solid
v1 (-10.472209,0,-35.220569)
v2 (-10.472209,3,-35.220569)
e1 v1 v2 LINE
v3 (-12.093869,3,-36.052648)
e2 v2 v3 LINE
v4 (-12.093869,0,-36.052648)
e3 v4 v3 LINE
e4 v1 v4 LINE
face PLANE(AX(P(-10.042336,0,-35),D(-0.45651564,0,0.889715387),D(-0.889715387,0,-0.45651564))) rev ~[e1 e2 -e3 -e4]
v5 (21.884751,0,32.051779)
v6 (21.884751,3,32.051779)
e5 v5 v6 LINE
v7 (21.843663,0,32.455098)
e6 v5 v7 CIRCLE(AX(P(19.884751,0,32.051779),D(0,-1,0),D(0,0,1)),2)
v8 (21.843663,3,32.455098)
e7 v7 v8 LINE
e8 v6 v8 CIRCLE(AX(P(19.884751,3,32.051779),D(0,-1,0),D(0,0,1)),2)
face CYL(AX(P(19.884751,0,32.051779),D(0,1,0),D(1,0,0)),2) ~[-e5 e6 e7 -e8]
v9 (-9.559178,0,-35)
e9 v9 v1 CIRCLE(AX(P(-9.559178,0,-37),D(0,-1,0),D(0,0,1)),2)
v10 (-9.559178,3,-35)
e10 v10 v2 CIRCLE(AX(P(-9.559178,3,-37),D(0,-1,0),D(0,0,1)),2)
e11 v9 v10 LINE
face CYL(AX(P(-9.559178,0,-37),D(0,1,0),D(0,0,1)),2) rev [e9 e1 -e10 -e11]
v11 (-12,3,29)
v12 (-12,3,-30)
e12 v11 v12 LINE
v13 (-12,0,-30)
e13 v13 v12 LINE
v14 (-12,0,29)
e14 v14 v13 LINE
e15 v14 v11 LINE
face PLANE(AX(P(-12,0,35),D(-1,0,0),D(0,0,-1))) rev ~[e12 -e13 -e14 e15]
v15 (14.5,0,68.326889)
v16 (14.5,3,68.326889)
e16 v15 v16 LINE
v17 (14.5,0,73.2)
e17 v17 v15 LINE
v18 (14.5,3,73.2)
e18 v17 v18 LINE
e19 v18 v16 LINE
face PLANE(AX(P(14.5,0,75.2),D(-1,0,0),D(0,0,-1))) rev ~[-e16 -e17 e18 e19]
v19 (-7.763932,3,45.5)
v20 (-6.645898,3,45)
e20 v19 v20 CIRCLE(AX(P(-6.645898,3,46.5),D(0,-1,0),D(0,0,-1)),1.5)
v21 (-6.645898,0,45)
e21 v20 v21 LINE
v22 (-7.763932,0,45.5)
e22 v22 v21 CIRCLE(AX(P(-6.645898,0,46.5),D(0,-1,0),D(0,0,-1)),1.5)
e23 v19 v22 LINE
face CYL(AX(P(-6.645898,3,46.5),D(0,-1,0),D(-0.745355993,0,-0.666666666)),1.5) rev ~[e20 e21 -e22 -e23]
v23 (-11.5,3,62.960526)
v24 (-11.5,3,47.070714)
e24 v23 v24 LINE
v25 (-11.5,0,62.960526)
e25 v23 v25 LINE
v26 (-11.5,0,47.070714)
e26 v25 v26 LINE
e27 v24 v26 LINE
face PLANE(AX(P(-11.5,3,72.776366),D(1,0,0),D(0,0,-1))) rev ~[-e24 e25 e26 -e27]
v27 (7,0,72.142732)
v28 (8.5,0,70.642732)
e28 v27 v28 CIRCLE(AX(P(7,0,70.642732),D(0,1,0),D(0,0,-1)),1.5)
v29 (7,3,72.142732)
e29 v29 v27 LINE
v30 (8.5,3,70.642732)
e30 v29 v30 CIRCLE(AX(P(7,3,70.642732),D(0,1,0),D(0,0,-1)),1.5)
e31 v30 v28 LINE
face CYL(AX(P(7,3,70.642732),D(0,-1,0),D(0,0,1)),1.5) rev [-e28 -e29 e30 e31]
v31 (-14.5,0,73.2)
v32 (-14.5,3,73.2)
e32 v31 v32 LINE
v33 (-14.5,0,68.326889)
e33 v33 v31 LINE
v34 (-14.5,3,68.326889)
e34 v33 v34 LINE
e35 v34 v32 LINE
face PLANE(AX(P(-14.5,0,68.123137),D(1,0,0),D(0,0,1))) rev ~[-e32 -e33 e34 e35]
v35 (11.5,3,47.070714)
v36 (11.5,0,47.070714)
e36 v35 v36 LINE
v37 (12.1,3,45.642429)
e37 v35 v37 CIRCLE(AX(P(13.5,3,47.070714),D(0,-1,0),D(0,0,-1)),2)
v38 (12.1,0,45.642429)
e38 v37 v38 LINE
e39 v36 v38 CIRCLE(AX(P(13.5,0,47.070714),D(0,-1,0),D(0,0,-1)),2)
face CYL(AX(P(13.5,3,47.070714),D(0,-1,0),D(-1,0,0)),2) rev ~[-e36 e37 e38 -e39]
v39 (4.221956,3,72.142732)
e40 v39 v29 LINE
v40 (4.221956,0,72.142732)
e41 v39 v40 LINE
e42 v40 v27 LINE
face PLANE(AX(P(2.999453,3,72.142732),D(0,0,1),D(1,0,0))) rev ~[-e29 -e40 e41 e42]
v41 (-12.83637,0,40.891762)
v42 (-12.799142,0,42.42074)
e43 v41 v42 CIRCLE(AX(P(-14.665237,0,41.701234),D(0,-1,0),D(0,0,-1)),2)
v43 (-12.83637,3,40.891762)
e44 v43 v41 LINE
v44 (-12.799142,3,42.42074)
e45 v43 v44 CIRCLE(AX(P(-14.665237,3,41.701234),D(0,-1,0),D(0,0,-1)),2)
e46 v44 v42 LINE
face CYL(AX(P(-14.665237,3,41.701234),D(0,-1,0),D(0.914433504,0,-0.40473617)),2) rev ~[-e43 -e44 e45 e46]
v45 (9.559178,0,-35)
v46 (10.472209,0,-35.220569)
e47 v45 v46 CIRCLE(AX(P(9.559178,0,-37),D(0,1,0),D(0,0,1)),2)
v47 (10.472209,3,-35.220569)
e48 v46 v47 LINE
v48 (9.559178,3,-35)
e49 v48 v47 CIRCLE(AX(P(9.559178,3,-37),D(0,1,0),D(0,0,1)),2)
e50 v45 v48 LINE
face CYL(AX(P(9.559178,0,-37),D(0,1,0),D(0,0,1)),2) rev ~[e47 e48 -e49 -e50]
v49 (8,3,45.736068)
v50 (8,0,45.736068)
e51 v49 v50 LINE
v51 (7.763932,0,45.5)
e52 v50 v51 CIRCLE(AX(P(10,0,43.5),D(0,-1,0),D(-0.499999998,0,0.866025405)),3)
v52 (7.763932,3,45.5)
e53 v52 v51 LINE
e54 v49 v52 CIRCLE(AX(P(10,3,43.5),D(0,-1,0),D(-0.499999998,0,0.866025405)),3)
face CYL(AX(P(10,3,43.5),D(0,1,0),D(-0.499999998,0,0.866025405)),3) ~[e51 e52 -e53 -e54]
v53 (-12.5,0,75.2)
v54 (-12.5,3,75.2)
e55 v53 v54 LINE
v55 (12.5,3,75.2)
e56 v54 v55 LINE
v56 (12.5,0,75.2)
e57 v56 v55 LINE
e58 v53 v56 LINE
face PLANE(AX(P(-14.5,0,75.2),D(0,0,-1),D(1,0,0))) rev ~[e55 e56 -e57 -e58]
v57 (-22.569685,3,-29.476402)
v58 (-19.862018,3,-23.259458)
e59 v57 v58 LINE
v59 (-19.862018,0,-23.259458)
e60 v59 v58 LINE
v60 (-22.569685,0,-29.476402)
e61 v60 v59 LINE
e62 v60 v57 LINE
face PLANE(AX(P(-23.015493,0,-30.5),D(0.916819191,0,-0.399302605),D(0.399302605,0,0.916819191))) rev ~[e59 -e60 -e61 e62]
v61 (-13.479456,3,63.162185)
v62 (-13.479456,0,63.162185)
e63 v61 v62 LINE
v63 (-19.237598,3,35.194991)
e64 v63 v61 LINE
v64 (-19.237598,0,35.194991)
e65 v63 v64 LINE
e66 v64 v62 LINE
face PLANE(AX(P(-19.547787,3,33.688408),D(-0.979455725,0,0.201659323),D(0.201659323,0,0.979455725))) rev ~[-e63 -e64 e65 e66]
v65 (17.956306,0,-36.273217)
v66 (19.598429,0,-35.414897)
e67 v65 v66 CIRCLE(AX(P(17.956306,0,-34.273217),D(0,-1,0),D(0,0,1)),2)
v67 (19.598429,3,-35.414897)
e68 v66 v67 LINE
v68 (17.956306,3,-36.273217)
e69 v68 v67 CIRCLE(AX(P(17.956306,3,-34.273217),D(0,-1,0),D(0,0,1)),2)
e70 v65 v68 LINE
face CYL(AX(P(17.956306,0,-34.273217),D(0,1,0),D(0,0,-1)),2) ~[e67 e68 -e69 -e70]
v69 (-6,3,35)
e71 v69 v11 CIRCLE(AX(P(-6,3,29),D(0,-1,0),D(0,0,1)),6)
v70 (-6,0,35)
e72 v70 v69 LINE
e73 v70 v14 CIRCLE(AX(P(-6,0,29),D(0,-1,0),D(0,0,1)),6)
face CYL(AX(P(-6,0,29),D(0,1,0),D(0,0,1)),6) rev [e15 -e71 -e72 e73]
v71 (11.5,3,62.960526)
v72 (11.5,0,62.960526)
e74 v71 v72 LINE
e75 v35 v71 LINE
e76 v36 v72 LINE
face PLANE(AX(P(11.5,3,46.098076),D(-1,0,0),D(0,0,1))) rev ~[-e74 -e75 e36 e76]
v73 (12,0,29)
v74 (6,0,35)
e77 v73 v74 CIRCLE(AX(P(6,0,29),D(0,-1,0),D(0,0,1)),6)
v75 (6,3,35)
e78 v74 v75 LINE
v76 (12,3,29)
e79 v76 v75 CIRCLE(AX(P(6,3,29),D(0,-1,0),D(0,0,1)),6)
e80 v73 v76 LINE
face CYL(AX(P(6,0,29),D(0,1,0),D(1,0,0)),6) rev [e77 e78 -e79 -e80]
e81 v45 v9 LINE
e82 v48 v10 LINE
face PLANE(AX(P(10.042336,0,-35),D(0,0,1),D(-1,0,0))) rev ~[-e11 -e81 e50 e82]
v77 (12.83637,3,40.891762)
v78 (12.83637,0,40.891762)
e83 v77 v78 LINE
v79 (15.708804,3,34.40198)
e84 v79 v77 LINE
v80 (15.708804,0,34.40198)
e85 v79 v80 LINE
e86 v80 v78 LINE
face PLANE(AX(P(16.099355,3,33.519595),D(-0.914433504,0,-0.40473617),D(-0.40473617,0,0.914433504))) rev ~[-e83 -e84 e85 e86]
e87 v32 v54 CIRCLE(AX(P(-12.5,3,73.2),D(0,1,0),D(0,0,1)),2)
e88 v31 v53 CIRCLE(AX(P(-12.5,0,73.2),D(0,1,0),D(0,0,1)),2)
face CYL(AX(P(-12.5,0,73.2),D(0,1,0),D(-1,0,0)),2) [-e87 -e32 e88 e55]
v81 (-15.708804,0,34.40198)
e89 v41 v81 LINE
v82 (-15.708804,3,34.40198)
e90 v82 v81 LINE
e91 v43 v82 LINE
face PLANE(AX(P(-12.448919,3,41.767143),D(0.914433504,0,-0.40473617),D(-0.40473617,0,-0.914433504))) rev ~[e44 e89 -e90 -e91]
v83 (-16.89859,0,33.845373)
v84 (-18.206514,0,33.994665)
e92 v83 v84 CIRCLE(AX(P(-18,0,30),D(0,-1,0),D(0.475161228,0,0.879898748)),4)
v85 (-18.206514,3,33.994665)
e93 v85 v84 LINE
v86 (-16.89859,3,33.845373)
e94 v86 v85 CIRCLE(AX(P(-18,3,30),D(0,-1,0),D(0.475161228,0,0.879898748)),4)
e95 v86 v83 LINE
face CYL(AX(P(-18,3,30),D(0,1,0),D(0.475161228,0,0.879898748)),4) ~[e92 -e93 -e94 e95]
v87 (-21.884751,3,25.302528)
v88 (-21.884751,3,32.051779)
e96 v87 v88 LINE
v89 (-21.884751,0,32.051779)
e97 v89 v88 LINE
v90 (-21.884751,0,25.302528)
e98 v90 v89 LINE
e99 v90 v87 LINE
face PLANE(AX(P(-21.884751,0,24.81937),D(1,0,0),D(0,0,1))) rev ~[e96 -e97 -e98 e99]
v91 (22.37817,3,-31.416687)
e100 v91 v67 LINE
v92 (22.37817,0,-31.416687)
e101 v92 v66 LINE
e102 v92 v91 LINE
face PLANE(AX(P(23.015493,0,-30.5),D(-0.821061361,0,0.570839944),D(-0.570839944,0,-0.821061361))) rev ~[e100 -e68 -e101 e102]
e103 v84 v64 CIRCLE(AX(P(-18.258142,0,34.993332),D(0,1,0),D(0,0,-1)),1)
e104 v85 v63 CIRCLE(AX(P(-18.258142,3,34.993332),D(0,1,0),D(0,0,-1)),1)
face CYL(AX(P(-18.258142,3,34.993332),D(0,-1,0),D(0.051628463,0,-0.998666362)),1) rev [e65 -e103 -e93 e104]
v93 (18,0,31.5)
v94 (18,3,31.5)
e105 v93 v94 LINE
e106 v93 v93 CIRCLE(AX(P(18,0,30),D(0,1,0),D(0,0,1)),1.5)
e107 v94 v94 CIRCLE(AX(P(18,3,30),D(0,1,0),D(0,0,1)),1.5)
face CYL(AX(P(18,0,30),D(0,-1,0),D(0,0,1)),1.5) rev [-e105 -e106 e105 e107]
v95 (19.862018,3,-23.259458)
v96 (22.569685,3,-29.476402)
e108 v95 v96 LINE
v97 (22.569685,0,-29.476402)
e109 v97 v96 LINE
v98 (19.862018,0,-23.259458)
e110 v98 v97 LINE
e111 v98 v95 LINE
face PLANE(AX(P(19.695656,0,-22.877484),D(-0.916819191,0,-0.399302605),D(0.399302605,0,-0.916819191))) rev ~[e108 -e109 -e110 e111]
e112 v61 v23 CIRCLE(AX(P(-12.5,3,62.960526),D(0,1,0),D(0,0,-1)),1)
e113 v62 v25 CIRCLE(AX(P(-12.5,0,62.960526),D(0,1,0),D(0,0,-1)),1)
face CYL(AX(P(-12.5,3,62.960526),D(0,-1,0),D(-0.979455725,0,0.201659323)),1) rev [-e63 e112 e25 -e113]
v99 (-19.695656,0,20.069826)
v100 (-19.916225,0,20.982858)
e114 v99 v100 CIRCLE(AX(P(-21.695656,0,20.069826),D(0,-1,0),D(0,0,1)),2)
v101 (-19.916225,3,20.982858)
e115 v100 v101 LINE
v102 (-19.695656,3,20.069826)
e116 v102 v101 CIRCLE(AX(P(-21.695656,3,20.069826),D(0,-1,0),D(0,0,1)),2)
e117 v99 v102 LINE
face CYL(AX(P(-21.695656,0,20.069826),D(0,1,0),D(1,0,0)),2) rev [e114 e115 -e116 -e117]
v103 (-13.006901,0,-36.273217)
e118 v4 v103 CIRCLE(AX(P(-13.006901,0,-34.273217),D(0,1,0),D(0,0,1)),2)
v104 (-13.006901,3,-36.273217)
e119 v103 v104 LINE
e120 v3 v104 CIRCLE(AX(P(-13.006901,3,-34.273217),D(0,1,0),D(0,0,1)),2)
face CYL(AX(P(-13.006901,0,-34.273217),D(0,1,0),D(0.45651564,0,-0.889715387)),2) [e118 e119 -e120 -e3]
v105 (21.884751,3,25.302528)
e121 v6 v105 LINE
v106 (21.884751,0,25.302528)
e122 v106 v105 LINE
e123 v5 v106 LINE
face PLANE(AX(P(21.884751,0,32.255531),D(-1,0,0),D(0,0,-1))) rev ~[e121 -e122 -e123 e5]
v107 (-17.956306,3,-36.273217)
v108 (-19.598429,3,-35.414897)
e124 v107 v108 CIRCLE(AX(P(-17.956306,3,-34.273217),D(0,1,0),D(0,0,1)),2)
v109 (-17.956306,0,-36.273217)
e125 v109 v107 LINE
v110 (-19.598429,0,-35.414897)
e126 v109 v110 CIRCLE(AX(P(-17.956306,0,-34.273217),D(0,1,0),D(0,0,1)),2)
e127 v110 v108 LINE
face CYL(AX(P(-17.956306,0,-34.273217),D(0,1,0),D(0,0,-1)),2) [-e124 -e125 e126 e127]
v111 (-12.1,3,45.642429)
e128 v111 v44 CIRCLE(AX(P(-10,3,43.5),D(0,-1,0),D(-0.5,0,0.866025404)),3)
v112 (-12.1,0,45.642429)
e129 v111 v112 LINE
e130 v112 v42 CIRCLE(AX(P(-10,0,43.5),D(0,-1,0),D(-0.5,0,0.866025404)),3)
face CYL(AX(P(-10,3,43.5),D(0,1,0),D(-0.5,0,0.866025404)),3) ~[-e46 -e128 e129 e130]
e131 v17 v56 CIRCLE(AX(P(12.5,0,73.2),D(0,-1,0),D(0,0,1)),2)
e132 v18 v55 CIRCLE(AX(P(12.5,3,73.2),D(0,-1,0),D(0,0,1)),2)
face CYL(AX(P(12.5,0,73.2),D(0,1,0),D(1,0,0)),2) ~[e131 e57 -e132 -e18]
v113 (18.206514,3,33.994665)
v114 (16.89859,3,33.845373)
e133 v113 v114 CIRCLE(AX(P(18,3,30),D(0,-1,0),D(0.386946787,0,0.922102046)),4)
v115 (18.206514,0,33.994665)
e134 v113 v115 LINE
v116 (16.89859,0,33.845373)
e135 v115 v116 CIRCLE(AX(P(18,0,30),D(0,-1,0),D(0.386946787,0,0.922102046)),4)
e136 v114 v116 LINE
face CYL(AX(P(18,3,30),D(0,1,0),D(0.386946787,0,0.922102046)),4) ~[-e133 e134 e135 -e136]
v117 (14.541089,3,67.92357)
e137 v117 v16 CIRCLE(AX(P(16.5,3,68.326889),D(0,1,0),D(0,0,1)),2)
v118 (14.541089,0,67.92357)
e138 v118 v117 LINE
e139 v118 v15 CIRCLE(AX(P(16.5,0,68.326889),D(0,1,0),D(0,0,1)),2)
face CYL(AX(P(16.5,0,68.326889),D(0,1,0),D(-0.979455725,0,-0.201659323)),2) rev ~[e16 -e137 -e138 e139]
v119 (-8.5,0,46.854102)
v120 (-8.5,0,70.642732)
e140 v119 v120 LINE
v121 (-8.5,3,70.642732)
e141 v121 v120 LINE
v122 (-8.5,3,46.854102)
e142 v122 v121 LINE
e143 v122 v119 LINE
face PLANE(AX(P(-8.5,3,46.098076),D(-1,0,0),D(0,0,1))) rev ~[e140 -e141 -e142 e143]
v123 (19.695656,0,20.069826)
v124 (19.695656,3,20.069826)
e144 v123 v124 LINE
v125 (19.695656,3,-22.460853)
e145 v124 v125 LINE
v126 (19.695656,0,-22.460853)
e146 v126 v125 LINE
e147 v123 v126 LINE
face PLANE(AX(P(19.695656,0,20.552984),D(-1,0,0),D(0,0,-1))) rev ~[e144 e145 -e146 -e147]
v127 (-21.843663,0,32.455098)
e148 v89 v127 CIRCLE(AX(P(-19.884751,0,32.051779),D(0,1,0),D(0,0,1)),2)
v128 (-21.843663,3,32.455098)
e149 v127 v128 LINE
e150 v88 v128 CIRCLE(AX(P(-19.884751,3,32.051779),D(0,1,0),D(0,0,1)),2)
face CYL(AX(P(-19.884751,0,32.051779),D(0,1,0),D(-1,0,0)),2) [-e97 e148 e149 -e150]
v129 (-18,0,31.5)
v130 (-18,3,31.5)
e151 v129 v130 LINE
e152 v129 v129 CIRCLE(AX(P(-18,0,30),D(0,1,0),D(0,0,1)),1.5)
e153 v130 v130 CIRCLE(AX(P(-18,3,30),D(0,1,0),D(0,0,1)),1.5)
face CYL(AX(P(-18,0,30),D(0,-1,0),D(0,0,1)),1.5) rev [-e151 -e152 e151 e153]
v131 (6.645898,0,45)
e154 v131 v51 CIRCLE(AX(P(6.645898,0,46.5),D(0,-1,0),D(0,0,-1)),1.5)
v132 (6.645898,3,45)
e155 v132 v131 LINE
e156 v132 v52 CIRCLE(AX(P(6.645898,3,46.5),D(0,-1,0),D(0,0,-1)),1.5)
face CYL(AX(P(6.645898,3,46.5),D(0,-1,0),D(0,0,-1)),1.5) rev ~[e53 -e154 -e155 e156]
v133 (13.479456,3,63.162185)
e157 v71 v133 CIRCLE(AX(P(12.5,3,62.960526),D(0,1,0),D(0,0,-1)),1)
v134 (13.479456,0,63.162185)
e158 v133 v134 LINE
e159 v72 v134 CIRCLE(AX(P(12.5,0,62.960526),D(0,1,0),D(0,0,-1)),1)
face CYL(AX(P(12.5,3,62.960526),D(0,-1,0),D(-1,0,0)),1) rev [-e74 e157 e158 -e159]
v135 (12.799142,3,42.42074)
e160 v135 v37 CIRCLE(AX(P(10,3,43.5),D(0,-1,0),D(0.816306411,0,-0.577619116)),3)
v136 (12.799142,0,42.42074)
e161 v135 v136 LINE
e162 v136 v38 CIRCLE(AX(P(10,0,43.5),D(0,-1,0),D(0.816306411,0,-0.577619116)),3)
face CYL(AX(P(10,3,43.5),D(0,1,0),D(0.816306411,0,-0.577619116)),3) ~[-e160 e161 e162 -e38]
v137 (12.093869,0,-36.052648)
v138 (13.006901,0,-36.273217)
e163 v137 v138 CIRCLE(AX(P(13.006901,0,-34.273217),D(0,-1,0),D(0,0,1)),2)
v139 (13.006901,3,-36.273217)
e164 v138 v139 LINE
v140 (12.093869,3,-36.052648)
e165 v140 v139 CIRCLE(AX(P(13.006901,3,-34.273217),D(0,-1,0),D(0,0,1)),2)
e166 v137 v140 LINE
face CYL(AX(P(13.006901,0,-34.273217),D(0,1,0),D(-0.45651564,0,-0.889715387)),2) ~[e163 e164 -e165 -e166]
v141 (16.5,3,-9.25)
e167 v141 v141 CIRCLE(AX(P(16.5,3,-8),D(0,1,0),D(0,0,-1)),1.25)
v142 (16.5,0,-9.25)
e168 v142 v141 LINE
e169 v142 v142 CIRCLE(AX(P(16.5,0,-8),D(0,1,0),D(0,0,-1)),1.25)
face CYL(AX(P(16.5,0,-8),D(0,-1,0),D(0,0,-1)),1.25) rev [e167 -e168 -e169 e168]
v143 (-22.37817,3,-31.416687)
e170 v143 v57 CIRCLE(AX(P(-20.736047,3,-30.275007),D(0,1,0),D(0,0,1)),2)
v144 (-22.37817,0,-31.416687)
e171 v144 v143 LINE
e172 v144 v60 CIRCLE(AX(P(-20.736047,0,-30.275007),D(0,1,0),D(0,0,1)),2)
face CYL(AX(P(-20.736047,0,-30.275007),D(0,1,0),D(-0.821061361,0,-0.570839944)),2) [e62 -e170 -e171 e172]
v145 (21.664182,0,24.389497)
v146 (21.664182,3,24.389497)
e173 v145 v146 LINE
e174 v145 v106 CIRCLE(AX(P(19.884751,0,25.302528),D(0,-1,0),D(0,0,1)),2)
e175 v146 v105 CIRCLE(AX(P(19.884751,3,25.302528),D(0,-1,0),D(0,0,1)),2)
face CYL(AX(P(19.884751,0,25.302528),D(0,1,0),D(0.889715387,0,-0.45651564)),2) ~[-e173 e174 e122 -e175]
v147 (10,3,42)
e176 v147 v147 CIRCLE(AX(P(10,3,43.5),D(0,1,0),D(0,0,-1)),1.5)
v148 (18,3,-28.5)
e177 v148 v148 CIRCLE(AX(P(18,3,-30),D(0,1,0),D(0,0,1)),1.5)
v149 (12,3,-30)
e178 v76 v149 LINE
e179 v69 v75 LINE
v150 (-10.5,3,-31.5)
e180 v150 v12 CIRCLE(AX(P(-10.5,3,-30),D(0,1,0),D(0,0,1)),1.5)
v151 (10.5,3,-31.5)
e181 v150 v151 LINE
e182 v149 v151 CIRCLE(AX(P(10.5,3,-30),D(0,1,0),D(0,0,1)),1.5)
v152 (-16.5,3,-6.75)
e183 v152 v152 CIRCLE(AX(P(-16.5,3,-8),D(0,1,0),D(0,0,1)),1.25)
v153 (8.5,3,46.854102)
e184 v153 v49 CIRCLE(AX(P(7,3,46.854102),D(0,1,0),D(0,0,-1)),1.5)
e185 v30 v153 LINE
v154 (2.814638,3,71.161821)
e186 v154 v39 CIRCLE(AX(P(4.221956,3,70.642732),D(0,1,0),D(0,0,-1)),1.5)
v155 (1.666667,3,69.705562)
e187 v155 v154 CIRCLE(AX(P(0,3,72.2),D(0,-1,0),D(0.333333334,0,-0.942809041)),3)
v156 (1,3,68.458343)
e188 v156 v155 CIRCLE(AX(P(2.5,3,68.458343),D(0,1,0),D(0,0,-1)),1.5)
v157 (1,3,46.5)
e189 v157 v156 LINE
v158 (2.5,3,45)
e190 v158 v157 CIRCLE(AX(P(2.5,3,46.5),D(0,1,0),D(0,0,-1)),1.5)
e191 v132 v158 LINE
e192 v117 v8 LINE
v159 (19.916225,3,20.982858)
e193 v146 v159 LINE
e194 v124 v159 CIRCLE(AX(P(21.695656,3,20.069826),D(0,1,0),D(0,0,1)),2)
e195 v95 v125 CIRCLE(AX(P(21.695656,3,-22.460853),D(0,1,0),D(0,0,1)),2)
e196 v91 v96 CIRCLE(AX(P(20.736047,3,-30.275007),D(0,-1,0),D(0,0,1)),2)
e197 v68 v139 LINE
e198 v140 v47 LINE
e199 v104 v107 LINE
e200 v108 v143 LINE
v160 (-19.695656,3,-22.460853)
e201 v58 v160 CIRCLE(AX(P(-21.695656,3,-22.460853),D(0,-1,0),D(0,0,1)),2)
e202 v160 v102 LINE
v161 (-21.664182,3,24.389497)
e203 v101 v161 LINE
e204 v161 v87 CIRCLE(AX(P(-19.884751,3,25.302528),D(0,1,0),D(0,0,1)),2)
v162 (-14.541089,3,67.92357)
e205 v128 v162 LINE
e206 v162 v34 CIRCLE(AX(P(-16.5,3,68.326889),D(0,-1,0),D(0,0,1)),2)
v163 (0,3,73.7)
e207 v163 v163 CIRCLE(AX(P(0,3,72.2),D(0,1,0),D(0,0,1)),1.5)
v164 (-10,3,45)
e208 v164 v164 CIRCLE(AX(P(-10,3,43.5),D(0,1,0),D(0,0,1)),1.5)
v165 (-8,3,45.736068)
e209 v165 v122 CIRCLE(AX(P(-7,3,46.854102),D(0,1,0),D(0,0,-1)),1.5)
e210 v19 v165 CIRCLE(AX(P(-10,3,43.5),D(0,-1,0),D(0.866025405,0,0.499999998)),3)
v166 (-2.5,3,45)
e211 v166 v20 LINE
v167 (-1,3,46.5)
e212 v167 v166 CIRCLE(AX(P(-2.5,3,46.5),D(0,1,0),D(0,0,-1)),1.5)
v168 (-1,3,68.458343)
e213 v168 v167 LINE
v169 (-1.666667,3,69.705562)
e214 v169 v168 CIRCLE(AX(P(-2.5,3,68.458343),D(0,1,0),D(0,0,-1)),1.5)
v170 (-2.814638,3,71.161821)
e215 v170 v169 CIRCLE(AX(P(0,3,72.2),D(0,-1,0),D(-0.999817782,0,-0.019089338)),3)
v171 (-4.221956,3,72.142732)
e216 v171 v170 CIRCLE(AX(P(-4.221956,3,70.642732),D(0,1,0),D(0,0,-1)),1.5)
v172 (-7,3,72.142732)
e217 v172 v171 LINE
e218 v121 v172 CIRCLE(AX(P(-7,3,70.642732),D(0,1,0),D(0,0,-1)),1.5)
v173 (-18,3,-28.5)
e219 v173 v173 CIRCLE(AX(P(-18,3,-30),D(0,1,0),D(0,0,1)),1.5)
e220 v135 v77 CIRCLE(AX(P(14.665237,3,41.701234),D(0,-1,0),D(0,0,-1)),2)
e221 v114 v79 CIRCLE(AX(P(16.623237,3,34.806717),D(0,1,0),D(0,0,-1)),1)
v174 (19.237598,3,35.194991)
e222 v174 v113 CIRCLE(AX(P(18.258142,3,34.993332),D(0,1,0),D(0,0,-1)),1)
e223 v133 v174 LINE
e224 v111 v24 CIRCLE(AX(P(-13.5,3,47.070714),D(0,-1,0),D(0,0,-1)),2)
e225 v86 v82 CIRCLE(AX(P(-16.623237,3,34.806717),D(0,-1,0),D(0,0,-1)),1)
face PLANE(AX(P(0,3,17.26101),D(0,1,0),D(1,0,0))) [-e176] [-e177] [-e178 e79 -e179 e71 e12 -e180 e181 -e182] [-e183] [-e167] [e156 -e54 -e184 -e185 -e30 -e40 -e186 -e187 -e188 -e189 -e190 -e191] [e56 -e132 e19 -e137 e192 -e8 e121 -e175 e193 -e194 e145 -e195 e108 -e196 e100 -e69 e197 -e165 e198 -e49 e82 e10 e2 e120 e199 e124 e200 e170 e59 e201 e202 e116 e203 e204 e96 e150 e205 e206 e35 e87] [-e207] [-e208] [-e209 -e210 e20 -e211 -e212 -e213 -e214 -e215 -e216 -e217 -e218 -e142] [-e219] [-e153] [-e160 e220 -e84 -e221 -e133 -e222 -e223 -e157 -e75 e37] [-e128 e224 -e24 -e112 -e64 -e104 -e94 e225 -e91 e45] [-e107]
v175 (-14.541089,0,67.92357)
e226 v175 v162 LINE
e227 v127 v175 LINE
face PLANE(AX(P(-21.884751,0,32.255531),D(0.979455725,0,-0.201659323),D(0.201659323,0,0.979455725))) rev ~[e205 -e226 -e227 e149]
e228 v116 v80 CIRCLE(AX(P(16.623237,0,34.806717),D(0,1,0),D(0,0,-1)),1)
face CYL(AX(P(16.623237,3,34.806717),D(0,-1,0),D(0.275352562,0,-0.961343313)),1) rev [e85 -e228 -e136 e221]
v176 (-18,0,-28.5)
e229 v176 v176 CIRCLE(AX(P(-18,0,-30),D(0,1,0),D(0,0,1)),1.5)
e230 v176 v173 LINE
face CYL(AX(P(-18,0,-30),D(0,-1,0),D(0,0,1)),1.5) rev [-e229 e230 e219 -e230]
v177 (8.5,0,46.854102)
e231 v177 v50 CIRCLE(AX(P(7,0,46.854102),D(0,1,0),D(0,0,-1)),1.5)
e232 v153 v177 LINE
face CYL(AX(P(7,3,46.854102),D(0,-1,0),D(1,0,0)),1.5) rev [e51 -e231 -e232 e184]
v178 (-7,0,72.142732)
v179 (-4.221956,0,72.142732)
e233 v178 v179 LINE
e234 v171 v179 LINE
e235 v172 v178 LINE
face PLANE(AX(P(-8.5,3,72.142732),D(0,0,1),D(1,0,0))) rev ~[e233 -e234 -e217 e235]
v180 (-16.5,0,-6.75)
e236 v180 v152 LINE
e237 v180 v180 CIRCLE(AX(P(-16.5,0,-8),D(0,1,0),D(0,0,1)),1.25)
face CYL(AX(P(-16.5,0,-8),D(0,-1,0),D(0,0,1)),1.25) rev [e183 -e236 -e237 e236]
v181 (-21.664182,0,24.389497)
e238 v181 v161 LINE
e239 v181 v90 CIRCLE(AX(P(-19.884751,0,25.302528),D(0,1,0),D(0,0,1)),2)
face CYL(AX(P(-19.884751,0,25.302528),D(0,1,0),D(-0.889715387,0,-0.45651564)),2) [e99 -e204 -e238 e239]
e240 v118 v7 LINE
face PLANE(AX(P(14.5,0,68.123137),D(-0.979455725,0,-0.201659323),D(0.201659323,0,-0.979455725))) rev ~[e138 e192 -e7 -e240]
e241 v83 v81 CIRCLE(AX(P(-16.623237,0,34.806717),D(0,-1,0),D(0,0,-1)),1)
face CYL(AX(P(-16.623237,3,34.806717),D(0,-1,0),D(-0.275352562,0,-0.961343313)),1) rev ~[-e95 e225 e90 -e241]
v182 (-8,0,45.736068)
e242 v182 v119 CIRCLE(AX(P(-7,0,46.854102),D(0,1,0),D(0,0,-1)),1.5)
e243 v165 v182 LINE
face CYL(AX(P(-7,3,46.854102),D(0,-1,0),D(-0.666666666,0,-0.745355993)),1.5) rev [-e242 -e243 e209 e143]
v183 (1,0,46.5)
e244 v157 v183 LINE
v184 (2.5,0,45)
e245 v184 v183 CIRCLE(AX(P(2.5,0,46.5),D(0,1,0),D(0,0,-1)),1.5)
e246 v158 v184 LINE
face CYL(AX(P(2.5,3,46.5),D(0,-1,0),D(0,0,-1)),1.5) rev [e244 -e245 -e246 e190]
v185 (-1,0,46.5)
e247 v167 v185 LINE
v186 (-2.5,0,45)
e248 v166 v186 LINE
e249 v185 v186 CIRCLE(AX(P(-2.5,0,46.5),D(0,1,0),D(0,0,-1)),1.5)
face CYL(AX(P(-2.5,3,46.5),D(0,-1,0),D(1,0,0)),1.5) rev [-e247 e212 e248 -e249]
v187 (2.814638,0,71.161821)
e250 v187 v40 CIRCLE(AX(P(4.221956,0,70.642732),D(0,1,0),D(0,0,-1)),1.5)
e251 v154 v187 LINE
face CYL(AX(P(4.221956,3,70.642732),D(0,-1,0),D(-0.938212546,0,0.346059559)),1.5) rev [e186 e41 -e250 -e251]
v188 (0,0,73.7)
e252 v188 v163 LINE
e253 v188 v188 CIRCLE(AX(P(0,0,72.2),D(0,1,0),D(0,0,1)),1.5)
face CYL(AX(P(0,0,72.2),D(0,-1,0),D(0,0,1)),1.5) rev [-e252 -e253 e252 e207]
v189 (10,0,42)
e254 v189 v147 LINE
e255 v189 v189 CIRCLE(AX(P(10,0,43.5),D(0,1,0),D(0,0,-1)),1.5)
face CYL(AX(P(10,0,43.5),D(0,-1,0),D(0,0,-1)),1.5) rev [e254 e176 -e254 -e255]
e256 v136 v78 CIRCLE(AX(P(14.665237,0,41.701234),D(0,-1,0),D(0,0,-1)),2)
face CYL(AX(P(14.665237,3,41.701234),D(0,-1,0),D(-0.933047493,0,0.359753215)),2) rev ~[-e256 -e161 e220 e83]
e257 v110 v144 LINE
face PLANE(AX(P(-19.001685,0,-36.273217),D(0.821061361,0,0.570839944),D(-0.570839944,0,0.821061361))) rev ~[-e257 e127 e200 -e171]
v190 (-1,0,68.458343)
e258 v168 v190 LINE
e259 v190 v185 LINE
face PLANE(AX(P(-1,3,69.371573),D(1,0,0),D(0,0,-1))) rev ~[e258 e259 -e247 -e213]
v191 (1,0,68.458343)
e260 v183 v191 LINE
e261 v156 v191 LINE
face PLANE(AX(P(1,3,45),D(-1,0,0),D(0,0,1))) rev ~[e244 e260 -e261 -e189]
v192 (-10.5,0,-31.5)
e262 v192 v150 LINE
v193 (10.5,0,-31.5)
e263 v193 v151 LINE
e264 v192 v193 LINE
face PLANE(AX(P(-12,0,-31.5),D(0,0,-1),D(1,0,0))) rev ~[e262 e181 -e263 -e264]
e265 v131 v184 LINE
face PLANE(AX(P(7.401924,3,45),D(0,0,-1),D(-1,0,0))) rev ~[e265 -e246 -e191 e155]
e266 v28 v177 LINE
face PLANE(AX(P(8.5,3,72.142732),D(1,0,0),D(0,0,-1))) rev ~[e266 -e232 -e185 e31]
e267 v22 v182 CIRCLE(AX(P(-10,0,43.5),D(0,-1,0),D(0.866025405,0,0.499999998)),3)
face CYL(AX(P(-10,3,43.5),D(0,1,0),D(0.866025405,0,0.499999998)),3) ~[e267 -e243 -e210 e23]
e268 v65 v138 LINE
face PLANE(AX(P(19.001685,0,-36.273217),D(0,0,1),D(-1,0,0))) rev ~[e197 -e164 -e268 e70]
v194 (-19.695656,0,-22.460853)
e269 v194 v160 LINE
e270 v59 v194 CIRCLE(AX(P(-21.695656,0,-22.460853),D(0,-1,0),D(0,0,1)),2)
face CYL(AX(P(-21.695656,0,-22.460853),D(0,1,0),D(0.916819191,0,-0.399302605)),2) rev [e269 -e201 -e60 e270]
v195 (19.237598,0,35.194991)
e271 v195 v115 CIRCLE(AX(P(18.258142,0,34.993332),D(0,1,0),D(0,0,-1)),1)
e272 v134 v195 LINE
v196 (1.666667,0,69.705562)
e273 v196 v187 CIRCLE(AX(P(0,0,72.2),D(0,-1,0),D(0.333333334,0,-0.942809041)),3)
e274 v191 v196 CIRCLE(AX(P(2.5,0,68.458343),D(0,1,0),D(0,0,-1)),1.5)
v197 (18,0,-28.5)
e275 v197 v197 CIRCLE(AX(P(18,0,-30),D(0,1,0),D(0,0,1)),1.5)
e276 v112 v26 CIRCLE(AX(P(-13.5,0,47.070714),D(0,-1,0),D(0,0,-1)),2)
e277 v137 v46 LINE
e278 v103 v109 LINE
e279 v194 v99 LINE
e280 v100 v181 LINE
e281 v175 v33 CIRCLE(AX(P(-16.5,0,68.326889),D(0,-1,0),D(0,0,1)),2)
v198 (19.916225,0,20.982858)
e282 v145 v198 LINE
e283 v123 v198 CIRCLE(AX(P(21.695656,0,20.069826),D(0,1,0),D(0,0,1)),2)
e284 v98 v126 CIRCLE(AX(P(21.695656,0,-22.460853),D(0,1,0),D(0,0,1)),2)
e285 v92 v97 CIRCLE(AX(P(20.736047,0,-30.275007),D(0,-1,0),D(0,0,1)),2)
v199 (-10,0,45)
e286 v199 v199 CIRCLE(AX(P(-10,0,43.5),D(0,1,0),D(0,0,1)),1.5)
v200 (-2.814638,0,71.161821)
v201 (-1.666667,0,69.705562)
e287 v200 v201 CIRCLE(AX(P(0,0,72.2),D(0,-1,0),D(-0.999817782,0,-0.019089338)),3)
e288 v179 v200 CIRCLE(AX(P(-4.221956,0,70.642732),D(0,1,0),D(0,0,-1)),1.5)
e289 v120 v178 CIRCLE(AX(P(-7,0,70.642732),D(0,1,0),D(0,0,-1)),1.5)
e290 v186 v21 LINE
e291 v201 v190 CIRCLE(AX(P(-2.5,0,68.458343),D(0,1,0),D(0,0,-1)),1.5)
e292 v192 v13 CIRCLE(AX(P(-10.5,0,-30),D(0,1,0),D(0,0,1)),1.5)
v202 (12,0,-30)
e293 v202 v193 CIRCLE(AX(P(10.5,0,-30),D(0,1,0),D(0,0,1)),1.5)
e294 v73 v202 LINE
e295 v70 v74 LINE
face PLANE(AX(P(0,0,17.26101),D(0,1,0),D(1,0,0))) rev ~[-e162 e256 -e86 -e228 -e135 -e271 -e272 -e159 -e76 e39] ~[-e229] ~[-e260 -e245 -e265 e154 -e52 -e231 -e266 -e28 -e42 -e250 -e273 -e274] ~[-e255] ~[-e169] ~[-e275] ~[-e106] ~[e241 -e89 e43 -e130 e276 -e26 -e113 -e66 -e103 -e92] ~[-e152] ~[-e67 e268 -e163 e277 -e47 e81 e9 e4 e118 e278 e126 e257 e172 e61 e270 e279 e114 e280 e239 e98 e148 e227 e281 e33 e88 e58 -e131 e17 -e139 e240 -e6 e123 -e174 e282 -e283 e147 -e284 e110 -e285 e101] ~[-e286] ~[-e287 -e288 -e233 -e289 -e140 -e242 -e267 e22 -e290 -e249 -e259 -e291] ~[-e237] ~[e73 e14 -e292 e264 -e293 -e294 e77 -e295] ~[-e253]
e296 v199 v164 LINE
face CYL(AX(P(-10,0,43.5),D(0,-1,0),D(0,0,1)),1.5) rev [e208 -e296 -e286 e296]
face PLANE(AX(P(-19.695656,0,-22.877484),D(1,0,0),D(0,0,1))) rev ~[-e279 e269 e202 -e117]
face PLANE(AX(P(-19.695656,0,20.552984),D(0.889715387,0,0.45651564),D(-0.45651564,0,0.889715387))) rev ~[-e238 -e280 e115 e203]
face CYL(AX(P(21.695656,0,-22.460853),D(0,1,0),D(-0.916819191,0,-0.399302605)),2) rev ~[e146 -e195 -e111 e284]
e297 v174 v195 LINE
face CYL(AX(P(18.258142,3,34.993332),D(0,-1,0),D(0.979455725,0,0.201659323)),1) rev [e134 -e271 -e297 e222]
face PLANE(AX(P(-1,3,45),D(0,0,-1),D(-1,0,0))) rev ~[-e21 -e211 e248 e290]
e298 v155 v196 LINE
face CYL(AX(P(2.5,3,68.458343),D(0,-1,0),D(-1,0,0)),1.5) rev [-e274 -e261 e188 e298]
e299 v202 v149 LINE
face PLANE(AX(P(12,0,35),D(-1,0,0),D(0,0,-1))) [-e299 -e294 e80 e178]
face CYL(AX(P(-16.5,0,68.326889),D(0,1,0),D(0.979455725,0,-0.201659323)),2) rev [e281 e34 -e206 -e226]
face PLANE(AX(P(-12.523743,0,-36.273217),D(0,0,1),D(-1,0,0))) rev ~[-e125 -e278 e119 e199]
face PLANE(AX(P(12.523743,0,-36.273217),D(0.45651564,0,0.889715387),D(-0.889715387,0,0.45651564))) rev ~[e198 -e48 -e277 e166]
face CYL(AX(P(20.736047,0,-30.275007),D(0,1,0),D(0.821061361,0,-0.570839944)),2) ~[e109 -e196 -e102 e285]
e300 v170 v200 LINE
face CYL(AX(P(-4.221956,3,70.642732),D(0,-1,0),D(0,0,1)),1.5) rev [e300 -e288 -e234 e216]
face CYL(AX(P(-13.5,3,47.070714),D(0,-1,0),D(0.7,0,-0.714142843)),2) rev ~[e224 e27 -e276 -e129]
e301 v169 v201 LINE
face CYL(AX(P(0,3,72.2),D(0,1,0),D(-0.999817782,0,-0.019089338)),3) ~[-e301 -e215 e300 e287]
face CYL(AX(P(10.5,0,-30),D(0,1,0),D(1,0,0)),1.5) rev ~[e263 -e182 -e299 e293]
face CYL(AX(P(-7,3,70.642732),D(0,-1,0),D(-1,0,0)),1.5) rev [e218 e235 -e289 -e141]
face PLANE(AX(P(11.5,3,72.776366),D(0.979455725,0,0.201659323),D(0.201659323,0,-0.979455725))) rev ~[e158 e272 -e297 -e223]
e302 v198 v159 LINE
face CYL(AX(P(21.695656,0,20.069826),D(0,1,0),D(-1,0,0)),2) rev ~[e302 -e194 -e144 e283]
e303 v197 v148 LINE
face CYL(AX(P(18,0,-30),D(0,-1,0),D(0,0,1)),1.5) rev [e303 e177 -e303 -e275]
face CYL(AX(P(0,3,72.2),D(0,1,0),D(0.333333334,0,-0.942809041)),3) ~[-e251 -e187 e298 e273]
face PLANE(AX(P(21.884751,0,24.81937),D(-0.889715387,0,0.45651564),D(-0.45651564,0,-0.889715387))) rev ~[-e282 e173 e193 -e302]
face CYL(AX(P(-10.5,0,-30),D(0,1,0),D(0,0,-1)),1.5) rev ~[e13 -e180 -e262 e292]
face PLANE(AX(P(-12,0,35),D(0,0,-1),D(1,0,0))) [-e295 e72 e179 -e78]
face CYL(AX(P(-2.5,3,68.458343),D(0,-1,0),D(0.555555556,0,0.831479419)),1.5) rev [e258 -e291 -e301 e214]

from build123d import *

# Parameters (mm, degrees)
SKETCH_1_R          = 1.5
SKETCH_1_R_2        = 1.25
SKETCH_1_W          = 24
SKETCH_1_H          = 66.5
EXTRUDE_1_DEPTH     = 3
FILLET_1_R          = 1.5
CUT_EXTRUDE_1_DEPTH = 3
FILLET_2_R          = 1
FILLET_3_R          = 1.5
FILLET_4_R          = 2
FILLET_5_R          = 2
FILLET_6_R          = 6


with BuildPart() as part:
    # 草图1 → 凸台-拉伸1 (new body)
    with BuildSketch(Plane(origin=(0, 0, 0), x_dir=(1, 0, 0), z_dir=(0, 1, 0))):
        Polygon((10.04233564, 35), (-10.04233564, 35), (-12.523742682, 36.273217412), (-19.001684764, 36.273217412), (-23.015493308, 30.5), (-19.695655938, 22.877483708), (-19.695655938, -20.552984489), (-21.884751354, -24.819370363), (-21.884751354, -32.255531362), (-14.5, -68.123136609), (-14.5, -75.2), (14.5, -75.2), (14.5, -68.123136609), (21.884751354, -32.255531362), (21.884751354, -24.819370363), (19.695655938, -20.552984489), (19.695655938, 22.877483708), (23.015493308, 30.5), (19.001684764, 36.273217412), (12.523742682, 36.273217412), align=None)
        with Locations(Location((-18, 30, 0), (0, 0, 270))):
            Circle(SKETCH_1_R, mode=Mode.SUBTRACT)
        with Locations(Location((18, 30, 0), (0, 0, 270))):
            Circle(SKETCH_1_R, mode=Mode.SUBTRACT)
        with Locations(Location((18, -30, 0), (0, 0, 270))):
            Circle(SKETCH_1_R, mode=Mode.SUBTRACT)
        with Locations(Location((-18, -30, 0), (0, 0, 270))):
            Circle(SKETCH_1_R, mode=Mode.SUBTRACT)
        with Locations(Location((0, -72.2, 0), (0, 0, 270))):
            Circle(SKETCH_1_R, mode=Mode.SUBTRACT)
        with Locations(Location((-10, -43.5, 0), (0, 0, 270))):
            Circle(SKETCH_1_R, mode=Mode.SUBTRACT)
        with Locations(Location((10, -43.5, 0), (0, 0, 90))):
            Circle(SKETCH_1_R, mode=Mode.SUBTRACT)
        with Locations(Location((-16.5, 8, 0), (0, 0, 270))):
            Circle(SKETCH_1_R_2, mode=Mode.SUBTRACT)
        with Locations(Location((16.5, 8, 0), (0, 0, 90))):
            Circle(SKETCH_1_R_2, mode=Mode.SUBTRACT)
        with Locations((0, -1.75)):
            Rectangle(SKETCH_1_W, SKETCH_1_H, mode=Mode.SUBTRACT)
    extrude(amount=EXTRUDE_1_DEPTH)

    # 圆角1
    fillet_1_edges = [part.edges().sort_by_distance(p)[0] for p in [
        (12, 1.5, -31.5),
        (-12, 1.5, -31.5),
    ]]
    fillet(fillet_1_edges, radius=FILLET_1_R)

    # 草图2 → 切除-拉伸1 (cut)
    with BuildSketch(Plane(origin=(0, 3, 0), x_dir=(1, 0, 0), z_dir=(0, 1, 0))):
        with BuildLine():
            ThreePointArc((-16.09935509, -33.519594994), (-17.804419777, -33.995215686), (-19.547787148, -33.688408186))
            Line((-19.547787148, -33.688408186), (-11.5, -72.77636643))
            Line((-11.5, -72.77636643), (-11.5, -46.098076211))
            ThreePointArc((-11.5, -46.098076211), (-12.930484116, -44.14207698), (-12.448919233, -41.767142652))
            Line((-12.448919233, -41.767142652), (-16.09935509, -33.519594994))
        make_face()
        with BuildLine():
            ThreePointArc((-7.401923789, -45), (-7.878679656, -45.621320344), (-8.5, -46.098076211))
            Line((-8.5, -46.098076211), (-8.5, -72.142731986))
            Line((-8.5, -72.142731986), (-2.999453346, -72.142731986))
            ThreePointArc((-2.999453346, -72.142731986), (-2.43284555, -70.444647463), (-1, -69.371572875))
            Line((-1, -69.371572875), (-1, -45))
            Line((-1, -45), (-7.401923789, -45))
        make_face()
        with BuildLine():
            Line((7.401923789, -45), (1, -45))
            Line((1, -45), (1, -69.371572875))
            ThreePointArc((1, -69.371572875), (2.43284555, -70.444647463), (2.999453346, -72.142731986))
            Line((2.999453346, -72.142731986), (8.5, -72.142731986))
            Line((8.5, -72.142731986), (8.5, -46.098076211))
            ThreePointArc((8.5, -46.098076211), (7.878679656, -45.621320344), (7.401923789, -45))
        make_face()
        with BuildLine():
            ThreePointArc((12.448919233, -41.767142652), (12.930484116, -44.14207698), (11.5, -46.098076211))
            Line((11.5, -46.098076211), (11.5, -72.77636643))
            Line((11.5, -72.77636643), (19.547787148, -33.688408186))
            ThreePointArc((19.547787148, -33.688408186), (17.804419777, -33.995215686), (16.09935509, -33.519594994))
            Line((16.09935509, -33.519594994), (12.448919233, -41.767142652))
        make_face()
    extrude(amount=-CUT_EXTRUDE_1_DEPTH, mode=Mode.SUBTRACT)

    # 圆角2
    fillet_2_edges = [part.edges().sort_by_distance(p)[0] for p in [
        (-11.5, 1.5, 72.77636643),
        (-19.547787148, 1.5, 33.688408186),
        (-16.09935509, 1.5, 33.519594994),
        (19.547787148, 1.5, 33.688408186),
        (11.5, 1.5, 72.77636643),
        (16.09935509, 1.5, 33.519594994),
    ]]
    fillet(fillet_2_edges, radius=FILLET_2_R)

    # 圆角3
    fillet_3_edges = [part.edges().sort_by_distance(p)[0] for p in [
        (8.5, 1.5, 46.098076211),
        (8.5, 1.5, 72.142731986),
        (2.999453346, 1.5, 72.142731986),
        (1, 1.5, 69.371572875),
        (1, 1.5, 45),
        (7.401923789, 1.5, 45),
        (-1, 1.5, 69.371572875),
        (-2.999453346, 1.5, 72.142731986),
        (-8.5, 1.5, 72.142731986),
        (-8.5, 1.5, 46.098076211),
        (-7.401923789, 1.5, 45),
        (-1, 1.5, 45),
    ]]
    fillet(fillet_3_edges, radius=FILLET_3_R)

    # 圆角4
    fillet_4_edges = [part.edges().sort_by_distance(p)[0] for p in [
        (-12.448919233, 1.5, 41.767142652),
        (-11.5, 1.5, 46.098076211),
        (11.5, 1.5, 46.098076211),
        (12.448919233, 1.5, 41.767142652),
    ]]
    fillet(fillet_4_edges, radius=FILLET_4_R)

    # 圆角5
    fillet_5_edges = [part.edges().sort_by_distance(p)[0] for p in [
        (-12.523742682, 1.5, -36.273217412),
        (-10.04233564, 1.5, -35),
        (10.04233564, 1.5, -35),
        (12.523742682, 1.5, -36.273217412),
        (19.001684764, 1.5, -36.273217412),
        (23.015493308, 1.5, -30.5),
        (19.695655938, 1.5, -22.877483708),
        (19.695655938, 1.5, 20.552984489),
        (21.884751354, 1.5, 24.819370363),
        (21.884751354, 1.5, 32.255531362),
        (14.5, 1.5, 68.123136609),
        (14.5, 1.5, 75.2),
        (-14.5, 1.5, 75.2),
        (-14.5, 1.5, 68.123136609),
        (-21.884751354, 1.5, 32.255531362),
        (-21.884751354, 1.5, 24.819370363),
        (-19.695655938, 1.5, 20.552984489),
        (-19.695655938, 1.5, -22.877483708),
        (-23.015493308, 1.5, -30.5),
        (-19.001684764, 1.5, -36.273217412),
    ]]
    fillet(fillet_5_edges, radius=FILLET_5_R)

    # 圆角6
    fillet_6_edges = [part.edges().sort_by_distance(p)[0] for p in [
        (12, 1.5, 35),
        (-12, 1.5, 35),
    ]]
    fillet(fillet_6_edges, radius=FILLET_6_R)


solid = part.part
